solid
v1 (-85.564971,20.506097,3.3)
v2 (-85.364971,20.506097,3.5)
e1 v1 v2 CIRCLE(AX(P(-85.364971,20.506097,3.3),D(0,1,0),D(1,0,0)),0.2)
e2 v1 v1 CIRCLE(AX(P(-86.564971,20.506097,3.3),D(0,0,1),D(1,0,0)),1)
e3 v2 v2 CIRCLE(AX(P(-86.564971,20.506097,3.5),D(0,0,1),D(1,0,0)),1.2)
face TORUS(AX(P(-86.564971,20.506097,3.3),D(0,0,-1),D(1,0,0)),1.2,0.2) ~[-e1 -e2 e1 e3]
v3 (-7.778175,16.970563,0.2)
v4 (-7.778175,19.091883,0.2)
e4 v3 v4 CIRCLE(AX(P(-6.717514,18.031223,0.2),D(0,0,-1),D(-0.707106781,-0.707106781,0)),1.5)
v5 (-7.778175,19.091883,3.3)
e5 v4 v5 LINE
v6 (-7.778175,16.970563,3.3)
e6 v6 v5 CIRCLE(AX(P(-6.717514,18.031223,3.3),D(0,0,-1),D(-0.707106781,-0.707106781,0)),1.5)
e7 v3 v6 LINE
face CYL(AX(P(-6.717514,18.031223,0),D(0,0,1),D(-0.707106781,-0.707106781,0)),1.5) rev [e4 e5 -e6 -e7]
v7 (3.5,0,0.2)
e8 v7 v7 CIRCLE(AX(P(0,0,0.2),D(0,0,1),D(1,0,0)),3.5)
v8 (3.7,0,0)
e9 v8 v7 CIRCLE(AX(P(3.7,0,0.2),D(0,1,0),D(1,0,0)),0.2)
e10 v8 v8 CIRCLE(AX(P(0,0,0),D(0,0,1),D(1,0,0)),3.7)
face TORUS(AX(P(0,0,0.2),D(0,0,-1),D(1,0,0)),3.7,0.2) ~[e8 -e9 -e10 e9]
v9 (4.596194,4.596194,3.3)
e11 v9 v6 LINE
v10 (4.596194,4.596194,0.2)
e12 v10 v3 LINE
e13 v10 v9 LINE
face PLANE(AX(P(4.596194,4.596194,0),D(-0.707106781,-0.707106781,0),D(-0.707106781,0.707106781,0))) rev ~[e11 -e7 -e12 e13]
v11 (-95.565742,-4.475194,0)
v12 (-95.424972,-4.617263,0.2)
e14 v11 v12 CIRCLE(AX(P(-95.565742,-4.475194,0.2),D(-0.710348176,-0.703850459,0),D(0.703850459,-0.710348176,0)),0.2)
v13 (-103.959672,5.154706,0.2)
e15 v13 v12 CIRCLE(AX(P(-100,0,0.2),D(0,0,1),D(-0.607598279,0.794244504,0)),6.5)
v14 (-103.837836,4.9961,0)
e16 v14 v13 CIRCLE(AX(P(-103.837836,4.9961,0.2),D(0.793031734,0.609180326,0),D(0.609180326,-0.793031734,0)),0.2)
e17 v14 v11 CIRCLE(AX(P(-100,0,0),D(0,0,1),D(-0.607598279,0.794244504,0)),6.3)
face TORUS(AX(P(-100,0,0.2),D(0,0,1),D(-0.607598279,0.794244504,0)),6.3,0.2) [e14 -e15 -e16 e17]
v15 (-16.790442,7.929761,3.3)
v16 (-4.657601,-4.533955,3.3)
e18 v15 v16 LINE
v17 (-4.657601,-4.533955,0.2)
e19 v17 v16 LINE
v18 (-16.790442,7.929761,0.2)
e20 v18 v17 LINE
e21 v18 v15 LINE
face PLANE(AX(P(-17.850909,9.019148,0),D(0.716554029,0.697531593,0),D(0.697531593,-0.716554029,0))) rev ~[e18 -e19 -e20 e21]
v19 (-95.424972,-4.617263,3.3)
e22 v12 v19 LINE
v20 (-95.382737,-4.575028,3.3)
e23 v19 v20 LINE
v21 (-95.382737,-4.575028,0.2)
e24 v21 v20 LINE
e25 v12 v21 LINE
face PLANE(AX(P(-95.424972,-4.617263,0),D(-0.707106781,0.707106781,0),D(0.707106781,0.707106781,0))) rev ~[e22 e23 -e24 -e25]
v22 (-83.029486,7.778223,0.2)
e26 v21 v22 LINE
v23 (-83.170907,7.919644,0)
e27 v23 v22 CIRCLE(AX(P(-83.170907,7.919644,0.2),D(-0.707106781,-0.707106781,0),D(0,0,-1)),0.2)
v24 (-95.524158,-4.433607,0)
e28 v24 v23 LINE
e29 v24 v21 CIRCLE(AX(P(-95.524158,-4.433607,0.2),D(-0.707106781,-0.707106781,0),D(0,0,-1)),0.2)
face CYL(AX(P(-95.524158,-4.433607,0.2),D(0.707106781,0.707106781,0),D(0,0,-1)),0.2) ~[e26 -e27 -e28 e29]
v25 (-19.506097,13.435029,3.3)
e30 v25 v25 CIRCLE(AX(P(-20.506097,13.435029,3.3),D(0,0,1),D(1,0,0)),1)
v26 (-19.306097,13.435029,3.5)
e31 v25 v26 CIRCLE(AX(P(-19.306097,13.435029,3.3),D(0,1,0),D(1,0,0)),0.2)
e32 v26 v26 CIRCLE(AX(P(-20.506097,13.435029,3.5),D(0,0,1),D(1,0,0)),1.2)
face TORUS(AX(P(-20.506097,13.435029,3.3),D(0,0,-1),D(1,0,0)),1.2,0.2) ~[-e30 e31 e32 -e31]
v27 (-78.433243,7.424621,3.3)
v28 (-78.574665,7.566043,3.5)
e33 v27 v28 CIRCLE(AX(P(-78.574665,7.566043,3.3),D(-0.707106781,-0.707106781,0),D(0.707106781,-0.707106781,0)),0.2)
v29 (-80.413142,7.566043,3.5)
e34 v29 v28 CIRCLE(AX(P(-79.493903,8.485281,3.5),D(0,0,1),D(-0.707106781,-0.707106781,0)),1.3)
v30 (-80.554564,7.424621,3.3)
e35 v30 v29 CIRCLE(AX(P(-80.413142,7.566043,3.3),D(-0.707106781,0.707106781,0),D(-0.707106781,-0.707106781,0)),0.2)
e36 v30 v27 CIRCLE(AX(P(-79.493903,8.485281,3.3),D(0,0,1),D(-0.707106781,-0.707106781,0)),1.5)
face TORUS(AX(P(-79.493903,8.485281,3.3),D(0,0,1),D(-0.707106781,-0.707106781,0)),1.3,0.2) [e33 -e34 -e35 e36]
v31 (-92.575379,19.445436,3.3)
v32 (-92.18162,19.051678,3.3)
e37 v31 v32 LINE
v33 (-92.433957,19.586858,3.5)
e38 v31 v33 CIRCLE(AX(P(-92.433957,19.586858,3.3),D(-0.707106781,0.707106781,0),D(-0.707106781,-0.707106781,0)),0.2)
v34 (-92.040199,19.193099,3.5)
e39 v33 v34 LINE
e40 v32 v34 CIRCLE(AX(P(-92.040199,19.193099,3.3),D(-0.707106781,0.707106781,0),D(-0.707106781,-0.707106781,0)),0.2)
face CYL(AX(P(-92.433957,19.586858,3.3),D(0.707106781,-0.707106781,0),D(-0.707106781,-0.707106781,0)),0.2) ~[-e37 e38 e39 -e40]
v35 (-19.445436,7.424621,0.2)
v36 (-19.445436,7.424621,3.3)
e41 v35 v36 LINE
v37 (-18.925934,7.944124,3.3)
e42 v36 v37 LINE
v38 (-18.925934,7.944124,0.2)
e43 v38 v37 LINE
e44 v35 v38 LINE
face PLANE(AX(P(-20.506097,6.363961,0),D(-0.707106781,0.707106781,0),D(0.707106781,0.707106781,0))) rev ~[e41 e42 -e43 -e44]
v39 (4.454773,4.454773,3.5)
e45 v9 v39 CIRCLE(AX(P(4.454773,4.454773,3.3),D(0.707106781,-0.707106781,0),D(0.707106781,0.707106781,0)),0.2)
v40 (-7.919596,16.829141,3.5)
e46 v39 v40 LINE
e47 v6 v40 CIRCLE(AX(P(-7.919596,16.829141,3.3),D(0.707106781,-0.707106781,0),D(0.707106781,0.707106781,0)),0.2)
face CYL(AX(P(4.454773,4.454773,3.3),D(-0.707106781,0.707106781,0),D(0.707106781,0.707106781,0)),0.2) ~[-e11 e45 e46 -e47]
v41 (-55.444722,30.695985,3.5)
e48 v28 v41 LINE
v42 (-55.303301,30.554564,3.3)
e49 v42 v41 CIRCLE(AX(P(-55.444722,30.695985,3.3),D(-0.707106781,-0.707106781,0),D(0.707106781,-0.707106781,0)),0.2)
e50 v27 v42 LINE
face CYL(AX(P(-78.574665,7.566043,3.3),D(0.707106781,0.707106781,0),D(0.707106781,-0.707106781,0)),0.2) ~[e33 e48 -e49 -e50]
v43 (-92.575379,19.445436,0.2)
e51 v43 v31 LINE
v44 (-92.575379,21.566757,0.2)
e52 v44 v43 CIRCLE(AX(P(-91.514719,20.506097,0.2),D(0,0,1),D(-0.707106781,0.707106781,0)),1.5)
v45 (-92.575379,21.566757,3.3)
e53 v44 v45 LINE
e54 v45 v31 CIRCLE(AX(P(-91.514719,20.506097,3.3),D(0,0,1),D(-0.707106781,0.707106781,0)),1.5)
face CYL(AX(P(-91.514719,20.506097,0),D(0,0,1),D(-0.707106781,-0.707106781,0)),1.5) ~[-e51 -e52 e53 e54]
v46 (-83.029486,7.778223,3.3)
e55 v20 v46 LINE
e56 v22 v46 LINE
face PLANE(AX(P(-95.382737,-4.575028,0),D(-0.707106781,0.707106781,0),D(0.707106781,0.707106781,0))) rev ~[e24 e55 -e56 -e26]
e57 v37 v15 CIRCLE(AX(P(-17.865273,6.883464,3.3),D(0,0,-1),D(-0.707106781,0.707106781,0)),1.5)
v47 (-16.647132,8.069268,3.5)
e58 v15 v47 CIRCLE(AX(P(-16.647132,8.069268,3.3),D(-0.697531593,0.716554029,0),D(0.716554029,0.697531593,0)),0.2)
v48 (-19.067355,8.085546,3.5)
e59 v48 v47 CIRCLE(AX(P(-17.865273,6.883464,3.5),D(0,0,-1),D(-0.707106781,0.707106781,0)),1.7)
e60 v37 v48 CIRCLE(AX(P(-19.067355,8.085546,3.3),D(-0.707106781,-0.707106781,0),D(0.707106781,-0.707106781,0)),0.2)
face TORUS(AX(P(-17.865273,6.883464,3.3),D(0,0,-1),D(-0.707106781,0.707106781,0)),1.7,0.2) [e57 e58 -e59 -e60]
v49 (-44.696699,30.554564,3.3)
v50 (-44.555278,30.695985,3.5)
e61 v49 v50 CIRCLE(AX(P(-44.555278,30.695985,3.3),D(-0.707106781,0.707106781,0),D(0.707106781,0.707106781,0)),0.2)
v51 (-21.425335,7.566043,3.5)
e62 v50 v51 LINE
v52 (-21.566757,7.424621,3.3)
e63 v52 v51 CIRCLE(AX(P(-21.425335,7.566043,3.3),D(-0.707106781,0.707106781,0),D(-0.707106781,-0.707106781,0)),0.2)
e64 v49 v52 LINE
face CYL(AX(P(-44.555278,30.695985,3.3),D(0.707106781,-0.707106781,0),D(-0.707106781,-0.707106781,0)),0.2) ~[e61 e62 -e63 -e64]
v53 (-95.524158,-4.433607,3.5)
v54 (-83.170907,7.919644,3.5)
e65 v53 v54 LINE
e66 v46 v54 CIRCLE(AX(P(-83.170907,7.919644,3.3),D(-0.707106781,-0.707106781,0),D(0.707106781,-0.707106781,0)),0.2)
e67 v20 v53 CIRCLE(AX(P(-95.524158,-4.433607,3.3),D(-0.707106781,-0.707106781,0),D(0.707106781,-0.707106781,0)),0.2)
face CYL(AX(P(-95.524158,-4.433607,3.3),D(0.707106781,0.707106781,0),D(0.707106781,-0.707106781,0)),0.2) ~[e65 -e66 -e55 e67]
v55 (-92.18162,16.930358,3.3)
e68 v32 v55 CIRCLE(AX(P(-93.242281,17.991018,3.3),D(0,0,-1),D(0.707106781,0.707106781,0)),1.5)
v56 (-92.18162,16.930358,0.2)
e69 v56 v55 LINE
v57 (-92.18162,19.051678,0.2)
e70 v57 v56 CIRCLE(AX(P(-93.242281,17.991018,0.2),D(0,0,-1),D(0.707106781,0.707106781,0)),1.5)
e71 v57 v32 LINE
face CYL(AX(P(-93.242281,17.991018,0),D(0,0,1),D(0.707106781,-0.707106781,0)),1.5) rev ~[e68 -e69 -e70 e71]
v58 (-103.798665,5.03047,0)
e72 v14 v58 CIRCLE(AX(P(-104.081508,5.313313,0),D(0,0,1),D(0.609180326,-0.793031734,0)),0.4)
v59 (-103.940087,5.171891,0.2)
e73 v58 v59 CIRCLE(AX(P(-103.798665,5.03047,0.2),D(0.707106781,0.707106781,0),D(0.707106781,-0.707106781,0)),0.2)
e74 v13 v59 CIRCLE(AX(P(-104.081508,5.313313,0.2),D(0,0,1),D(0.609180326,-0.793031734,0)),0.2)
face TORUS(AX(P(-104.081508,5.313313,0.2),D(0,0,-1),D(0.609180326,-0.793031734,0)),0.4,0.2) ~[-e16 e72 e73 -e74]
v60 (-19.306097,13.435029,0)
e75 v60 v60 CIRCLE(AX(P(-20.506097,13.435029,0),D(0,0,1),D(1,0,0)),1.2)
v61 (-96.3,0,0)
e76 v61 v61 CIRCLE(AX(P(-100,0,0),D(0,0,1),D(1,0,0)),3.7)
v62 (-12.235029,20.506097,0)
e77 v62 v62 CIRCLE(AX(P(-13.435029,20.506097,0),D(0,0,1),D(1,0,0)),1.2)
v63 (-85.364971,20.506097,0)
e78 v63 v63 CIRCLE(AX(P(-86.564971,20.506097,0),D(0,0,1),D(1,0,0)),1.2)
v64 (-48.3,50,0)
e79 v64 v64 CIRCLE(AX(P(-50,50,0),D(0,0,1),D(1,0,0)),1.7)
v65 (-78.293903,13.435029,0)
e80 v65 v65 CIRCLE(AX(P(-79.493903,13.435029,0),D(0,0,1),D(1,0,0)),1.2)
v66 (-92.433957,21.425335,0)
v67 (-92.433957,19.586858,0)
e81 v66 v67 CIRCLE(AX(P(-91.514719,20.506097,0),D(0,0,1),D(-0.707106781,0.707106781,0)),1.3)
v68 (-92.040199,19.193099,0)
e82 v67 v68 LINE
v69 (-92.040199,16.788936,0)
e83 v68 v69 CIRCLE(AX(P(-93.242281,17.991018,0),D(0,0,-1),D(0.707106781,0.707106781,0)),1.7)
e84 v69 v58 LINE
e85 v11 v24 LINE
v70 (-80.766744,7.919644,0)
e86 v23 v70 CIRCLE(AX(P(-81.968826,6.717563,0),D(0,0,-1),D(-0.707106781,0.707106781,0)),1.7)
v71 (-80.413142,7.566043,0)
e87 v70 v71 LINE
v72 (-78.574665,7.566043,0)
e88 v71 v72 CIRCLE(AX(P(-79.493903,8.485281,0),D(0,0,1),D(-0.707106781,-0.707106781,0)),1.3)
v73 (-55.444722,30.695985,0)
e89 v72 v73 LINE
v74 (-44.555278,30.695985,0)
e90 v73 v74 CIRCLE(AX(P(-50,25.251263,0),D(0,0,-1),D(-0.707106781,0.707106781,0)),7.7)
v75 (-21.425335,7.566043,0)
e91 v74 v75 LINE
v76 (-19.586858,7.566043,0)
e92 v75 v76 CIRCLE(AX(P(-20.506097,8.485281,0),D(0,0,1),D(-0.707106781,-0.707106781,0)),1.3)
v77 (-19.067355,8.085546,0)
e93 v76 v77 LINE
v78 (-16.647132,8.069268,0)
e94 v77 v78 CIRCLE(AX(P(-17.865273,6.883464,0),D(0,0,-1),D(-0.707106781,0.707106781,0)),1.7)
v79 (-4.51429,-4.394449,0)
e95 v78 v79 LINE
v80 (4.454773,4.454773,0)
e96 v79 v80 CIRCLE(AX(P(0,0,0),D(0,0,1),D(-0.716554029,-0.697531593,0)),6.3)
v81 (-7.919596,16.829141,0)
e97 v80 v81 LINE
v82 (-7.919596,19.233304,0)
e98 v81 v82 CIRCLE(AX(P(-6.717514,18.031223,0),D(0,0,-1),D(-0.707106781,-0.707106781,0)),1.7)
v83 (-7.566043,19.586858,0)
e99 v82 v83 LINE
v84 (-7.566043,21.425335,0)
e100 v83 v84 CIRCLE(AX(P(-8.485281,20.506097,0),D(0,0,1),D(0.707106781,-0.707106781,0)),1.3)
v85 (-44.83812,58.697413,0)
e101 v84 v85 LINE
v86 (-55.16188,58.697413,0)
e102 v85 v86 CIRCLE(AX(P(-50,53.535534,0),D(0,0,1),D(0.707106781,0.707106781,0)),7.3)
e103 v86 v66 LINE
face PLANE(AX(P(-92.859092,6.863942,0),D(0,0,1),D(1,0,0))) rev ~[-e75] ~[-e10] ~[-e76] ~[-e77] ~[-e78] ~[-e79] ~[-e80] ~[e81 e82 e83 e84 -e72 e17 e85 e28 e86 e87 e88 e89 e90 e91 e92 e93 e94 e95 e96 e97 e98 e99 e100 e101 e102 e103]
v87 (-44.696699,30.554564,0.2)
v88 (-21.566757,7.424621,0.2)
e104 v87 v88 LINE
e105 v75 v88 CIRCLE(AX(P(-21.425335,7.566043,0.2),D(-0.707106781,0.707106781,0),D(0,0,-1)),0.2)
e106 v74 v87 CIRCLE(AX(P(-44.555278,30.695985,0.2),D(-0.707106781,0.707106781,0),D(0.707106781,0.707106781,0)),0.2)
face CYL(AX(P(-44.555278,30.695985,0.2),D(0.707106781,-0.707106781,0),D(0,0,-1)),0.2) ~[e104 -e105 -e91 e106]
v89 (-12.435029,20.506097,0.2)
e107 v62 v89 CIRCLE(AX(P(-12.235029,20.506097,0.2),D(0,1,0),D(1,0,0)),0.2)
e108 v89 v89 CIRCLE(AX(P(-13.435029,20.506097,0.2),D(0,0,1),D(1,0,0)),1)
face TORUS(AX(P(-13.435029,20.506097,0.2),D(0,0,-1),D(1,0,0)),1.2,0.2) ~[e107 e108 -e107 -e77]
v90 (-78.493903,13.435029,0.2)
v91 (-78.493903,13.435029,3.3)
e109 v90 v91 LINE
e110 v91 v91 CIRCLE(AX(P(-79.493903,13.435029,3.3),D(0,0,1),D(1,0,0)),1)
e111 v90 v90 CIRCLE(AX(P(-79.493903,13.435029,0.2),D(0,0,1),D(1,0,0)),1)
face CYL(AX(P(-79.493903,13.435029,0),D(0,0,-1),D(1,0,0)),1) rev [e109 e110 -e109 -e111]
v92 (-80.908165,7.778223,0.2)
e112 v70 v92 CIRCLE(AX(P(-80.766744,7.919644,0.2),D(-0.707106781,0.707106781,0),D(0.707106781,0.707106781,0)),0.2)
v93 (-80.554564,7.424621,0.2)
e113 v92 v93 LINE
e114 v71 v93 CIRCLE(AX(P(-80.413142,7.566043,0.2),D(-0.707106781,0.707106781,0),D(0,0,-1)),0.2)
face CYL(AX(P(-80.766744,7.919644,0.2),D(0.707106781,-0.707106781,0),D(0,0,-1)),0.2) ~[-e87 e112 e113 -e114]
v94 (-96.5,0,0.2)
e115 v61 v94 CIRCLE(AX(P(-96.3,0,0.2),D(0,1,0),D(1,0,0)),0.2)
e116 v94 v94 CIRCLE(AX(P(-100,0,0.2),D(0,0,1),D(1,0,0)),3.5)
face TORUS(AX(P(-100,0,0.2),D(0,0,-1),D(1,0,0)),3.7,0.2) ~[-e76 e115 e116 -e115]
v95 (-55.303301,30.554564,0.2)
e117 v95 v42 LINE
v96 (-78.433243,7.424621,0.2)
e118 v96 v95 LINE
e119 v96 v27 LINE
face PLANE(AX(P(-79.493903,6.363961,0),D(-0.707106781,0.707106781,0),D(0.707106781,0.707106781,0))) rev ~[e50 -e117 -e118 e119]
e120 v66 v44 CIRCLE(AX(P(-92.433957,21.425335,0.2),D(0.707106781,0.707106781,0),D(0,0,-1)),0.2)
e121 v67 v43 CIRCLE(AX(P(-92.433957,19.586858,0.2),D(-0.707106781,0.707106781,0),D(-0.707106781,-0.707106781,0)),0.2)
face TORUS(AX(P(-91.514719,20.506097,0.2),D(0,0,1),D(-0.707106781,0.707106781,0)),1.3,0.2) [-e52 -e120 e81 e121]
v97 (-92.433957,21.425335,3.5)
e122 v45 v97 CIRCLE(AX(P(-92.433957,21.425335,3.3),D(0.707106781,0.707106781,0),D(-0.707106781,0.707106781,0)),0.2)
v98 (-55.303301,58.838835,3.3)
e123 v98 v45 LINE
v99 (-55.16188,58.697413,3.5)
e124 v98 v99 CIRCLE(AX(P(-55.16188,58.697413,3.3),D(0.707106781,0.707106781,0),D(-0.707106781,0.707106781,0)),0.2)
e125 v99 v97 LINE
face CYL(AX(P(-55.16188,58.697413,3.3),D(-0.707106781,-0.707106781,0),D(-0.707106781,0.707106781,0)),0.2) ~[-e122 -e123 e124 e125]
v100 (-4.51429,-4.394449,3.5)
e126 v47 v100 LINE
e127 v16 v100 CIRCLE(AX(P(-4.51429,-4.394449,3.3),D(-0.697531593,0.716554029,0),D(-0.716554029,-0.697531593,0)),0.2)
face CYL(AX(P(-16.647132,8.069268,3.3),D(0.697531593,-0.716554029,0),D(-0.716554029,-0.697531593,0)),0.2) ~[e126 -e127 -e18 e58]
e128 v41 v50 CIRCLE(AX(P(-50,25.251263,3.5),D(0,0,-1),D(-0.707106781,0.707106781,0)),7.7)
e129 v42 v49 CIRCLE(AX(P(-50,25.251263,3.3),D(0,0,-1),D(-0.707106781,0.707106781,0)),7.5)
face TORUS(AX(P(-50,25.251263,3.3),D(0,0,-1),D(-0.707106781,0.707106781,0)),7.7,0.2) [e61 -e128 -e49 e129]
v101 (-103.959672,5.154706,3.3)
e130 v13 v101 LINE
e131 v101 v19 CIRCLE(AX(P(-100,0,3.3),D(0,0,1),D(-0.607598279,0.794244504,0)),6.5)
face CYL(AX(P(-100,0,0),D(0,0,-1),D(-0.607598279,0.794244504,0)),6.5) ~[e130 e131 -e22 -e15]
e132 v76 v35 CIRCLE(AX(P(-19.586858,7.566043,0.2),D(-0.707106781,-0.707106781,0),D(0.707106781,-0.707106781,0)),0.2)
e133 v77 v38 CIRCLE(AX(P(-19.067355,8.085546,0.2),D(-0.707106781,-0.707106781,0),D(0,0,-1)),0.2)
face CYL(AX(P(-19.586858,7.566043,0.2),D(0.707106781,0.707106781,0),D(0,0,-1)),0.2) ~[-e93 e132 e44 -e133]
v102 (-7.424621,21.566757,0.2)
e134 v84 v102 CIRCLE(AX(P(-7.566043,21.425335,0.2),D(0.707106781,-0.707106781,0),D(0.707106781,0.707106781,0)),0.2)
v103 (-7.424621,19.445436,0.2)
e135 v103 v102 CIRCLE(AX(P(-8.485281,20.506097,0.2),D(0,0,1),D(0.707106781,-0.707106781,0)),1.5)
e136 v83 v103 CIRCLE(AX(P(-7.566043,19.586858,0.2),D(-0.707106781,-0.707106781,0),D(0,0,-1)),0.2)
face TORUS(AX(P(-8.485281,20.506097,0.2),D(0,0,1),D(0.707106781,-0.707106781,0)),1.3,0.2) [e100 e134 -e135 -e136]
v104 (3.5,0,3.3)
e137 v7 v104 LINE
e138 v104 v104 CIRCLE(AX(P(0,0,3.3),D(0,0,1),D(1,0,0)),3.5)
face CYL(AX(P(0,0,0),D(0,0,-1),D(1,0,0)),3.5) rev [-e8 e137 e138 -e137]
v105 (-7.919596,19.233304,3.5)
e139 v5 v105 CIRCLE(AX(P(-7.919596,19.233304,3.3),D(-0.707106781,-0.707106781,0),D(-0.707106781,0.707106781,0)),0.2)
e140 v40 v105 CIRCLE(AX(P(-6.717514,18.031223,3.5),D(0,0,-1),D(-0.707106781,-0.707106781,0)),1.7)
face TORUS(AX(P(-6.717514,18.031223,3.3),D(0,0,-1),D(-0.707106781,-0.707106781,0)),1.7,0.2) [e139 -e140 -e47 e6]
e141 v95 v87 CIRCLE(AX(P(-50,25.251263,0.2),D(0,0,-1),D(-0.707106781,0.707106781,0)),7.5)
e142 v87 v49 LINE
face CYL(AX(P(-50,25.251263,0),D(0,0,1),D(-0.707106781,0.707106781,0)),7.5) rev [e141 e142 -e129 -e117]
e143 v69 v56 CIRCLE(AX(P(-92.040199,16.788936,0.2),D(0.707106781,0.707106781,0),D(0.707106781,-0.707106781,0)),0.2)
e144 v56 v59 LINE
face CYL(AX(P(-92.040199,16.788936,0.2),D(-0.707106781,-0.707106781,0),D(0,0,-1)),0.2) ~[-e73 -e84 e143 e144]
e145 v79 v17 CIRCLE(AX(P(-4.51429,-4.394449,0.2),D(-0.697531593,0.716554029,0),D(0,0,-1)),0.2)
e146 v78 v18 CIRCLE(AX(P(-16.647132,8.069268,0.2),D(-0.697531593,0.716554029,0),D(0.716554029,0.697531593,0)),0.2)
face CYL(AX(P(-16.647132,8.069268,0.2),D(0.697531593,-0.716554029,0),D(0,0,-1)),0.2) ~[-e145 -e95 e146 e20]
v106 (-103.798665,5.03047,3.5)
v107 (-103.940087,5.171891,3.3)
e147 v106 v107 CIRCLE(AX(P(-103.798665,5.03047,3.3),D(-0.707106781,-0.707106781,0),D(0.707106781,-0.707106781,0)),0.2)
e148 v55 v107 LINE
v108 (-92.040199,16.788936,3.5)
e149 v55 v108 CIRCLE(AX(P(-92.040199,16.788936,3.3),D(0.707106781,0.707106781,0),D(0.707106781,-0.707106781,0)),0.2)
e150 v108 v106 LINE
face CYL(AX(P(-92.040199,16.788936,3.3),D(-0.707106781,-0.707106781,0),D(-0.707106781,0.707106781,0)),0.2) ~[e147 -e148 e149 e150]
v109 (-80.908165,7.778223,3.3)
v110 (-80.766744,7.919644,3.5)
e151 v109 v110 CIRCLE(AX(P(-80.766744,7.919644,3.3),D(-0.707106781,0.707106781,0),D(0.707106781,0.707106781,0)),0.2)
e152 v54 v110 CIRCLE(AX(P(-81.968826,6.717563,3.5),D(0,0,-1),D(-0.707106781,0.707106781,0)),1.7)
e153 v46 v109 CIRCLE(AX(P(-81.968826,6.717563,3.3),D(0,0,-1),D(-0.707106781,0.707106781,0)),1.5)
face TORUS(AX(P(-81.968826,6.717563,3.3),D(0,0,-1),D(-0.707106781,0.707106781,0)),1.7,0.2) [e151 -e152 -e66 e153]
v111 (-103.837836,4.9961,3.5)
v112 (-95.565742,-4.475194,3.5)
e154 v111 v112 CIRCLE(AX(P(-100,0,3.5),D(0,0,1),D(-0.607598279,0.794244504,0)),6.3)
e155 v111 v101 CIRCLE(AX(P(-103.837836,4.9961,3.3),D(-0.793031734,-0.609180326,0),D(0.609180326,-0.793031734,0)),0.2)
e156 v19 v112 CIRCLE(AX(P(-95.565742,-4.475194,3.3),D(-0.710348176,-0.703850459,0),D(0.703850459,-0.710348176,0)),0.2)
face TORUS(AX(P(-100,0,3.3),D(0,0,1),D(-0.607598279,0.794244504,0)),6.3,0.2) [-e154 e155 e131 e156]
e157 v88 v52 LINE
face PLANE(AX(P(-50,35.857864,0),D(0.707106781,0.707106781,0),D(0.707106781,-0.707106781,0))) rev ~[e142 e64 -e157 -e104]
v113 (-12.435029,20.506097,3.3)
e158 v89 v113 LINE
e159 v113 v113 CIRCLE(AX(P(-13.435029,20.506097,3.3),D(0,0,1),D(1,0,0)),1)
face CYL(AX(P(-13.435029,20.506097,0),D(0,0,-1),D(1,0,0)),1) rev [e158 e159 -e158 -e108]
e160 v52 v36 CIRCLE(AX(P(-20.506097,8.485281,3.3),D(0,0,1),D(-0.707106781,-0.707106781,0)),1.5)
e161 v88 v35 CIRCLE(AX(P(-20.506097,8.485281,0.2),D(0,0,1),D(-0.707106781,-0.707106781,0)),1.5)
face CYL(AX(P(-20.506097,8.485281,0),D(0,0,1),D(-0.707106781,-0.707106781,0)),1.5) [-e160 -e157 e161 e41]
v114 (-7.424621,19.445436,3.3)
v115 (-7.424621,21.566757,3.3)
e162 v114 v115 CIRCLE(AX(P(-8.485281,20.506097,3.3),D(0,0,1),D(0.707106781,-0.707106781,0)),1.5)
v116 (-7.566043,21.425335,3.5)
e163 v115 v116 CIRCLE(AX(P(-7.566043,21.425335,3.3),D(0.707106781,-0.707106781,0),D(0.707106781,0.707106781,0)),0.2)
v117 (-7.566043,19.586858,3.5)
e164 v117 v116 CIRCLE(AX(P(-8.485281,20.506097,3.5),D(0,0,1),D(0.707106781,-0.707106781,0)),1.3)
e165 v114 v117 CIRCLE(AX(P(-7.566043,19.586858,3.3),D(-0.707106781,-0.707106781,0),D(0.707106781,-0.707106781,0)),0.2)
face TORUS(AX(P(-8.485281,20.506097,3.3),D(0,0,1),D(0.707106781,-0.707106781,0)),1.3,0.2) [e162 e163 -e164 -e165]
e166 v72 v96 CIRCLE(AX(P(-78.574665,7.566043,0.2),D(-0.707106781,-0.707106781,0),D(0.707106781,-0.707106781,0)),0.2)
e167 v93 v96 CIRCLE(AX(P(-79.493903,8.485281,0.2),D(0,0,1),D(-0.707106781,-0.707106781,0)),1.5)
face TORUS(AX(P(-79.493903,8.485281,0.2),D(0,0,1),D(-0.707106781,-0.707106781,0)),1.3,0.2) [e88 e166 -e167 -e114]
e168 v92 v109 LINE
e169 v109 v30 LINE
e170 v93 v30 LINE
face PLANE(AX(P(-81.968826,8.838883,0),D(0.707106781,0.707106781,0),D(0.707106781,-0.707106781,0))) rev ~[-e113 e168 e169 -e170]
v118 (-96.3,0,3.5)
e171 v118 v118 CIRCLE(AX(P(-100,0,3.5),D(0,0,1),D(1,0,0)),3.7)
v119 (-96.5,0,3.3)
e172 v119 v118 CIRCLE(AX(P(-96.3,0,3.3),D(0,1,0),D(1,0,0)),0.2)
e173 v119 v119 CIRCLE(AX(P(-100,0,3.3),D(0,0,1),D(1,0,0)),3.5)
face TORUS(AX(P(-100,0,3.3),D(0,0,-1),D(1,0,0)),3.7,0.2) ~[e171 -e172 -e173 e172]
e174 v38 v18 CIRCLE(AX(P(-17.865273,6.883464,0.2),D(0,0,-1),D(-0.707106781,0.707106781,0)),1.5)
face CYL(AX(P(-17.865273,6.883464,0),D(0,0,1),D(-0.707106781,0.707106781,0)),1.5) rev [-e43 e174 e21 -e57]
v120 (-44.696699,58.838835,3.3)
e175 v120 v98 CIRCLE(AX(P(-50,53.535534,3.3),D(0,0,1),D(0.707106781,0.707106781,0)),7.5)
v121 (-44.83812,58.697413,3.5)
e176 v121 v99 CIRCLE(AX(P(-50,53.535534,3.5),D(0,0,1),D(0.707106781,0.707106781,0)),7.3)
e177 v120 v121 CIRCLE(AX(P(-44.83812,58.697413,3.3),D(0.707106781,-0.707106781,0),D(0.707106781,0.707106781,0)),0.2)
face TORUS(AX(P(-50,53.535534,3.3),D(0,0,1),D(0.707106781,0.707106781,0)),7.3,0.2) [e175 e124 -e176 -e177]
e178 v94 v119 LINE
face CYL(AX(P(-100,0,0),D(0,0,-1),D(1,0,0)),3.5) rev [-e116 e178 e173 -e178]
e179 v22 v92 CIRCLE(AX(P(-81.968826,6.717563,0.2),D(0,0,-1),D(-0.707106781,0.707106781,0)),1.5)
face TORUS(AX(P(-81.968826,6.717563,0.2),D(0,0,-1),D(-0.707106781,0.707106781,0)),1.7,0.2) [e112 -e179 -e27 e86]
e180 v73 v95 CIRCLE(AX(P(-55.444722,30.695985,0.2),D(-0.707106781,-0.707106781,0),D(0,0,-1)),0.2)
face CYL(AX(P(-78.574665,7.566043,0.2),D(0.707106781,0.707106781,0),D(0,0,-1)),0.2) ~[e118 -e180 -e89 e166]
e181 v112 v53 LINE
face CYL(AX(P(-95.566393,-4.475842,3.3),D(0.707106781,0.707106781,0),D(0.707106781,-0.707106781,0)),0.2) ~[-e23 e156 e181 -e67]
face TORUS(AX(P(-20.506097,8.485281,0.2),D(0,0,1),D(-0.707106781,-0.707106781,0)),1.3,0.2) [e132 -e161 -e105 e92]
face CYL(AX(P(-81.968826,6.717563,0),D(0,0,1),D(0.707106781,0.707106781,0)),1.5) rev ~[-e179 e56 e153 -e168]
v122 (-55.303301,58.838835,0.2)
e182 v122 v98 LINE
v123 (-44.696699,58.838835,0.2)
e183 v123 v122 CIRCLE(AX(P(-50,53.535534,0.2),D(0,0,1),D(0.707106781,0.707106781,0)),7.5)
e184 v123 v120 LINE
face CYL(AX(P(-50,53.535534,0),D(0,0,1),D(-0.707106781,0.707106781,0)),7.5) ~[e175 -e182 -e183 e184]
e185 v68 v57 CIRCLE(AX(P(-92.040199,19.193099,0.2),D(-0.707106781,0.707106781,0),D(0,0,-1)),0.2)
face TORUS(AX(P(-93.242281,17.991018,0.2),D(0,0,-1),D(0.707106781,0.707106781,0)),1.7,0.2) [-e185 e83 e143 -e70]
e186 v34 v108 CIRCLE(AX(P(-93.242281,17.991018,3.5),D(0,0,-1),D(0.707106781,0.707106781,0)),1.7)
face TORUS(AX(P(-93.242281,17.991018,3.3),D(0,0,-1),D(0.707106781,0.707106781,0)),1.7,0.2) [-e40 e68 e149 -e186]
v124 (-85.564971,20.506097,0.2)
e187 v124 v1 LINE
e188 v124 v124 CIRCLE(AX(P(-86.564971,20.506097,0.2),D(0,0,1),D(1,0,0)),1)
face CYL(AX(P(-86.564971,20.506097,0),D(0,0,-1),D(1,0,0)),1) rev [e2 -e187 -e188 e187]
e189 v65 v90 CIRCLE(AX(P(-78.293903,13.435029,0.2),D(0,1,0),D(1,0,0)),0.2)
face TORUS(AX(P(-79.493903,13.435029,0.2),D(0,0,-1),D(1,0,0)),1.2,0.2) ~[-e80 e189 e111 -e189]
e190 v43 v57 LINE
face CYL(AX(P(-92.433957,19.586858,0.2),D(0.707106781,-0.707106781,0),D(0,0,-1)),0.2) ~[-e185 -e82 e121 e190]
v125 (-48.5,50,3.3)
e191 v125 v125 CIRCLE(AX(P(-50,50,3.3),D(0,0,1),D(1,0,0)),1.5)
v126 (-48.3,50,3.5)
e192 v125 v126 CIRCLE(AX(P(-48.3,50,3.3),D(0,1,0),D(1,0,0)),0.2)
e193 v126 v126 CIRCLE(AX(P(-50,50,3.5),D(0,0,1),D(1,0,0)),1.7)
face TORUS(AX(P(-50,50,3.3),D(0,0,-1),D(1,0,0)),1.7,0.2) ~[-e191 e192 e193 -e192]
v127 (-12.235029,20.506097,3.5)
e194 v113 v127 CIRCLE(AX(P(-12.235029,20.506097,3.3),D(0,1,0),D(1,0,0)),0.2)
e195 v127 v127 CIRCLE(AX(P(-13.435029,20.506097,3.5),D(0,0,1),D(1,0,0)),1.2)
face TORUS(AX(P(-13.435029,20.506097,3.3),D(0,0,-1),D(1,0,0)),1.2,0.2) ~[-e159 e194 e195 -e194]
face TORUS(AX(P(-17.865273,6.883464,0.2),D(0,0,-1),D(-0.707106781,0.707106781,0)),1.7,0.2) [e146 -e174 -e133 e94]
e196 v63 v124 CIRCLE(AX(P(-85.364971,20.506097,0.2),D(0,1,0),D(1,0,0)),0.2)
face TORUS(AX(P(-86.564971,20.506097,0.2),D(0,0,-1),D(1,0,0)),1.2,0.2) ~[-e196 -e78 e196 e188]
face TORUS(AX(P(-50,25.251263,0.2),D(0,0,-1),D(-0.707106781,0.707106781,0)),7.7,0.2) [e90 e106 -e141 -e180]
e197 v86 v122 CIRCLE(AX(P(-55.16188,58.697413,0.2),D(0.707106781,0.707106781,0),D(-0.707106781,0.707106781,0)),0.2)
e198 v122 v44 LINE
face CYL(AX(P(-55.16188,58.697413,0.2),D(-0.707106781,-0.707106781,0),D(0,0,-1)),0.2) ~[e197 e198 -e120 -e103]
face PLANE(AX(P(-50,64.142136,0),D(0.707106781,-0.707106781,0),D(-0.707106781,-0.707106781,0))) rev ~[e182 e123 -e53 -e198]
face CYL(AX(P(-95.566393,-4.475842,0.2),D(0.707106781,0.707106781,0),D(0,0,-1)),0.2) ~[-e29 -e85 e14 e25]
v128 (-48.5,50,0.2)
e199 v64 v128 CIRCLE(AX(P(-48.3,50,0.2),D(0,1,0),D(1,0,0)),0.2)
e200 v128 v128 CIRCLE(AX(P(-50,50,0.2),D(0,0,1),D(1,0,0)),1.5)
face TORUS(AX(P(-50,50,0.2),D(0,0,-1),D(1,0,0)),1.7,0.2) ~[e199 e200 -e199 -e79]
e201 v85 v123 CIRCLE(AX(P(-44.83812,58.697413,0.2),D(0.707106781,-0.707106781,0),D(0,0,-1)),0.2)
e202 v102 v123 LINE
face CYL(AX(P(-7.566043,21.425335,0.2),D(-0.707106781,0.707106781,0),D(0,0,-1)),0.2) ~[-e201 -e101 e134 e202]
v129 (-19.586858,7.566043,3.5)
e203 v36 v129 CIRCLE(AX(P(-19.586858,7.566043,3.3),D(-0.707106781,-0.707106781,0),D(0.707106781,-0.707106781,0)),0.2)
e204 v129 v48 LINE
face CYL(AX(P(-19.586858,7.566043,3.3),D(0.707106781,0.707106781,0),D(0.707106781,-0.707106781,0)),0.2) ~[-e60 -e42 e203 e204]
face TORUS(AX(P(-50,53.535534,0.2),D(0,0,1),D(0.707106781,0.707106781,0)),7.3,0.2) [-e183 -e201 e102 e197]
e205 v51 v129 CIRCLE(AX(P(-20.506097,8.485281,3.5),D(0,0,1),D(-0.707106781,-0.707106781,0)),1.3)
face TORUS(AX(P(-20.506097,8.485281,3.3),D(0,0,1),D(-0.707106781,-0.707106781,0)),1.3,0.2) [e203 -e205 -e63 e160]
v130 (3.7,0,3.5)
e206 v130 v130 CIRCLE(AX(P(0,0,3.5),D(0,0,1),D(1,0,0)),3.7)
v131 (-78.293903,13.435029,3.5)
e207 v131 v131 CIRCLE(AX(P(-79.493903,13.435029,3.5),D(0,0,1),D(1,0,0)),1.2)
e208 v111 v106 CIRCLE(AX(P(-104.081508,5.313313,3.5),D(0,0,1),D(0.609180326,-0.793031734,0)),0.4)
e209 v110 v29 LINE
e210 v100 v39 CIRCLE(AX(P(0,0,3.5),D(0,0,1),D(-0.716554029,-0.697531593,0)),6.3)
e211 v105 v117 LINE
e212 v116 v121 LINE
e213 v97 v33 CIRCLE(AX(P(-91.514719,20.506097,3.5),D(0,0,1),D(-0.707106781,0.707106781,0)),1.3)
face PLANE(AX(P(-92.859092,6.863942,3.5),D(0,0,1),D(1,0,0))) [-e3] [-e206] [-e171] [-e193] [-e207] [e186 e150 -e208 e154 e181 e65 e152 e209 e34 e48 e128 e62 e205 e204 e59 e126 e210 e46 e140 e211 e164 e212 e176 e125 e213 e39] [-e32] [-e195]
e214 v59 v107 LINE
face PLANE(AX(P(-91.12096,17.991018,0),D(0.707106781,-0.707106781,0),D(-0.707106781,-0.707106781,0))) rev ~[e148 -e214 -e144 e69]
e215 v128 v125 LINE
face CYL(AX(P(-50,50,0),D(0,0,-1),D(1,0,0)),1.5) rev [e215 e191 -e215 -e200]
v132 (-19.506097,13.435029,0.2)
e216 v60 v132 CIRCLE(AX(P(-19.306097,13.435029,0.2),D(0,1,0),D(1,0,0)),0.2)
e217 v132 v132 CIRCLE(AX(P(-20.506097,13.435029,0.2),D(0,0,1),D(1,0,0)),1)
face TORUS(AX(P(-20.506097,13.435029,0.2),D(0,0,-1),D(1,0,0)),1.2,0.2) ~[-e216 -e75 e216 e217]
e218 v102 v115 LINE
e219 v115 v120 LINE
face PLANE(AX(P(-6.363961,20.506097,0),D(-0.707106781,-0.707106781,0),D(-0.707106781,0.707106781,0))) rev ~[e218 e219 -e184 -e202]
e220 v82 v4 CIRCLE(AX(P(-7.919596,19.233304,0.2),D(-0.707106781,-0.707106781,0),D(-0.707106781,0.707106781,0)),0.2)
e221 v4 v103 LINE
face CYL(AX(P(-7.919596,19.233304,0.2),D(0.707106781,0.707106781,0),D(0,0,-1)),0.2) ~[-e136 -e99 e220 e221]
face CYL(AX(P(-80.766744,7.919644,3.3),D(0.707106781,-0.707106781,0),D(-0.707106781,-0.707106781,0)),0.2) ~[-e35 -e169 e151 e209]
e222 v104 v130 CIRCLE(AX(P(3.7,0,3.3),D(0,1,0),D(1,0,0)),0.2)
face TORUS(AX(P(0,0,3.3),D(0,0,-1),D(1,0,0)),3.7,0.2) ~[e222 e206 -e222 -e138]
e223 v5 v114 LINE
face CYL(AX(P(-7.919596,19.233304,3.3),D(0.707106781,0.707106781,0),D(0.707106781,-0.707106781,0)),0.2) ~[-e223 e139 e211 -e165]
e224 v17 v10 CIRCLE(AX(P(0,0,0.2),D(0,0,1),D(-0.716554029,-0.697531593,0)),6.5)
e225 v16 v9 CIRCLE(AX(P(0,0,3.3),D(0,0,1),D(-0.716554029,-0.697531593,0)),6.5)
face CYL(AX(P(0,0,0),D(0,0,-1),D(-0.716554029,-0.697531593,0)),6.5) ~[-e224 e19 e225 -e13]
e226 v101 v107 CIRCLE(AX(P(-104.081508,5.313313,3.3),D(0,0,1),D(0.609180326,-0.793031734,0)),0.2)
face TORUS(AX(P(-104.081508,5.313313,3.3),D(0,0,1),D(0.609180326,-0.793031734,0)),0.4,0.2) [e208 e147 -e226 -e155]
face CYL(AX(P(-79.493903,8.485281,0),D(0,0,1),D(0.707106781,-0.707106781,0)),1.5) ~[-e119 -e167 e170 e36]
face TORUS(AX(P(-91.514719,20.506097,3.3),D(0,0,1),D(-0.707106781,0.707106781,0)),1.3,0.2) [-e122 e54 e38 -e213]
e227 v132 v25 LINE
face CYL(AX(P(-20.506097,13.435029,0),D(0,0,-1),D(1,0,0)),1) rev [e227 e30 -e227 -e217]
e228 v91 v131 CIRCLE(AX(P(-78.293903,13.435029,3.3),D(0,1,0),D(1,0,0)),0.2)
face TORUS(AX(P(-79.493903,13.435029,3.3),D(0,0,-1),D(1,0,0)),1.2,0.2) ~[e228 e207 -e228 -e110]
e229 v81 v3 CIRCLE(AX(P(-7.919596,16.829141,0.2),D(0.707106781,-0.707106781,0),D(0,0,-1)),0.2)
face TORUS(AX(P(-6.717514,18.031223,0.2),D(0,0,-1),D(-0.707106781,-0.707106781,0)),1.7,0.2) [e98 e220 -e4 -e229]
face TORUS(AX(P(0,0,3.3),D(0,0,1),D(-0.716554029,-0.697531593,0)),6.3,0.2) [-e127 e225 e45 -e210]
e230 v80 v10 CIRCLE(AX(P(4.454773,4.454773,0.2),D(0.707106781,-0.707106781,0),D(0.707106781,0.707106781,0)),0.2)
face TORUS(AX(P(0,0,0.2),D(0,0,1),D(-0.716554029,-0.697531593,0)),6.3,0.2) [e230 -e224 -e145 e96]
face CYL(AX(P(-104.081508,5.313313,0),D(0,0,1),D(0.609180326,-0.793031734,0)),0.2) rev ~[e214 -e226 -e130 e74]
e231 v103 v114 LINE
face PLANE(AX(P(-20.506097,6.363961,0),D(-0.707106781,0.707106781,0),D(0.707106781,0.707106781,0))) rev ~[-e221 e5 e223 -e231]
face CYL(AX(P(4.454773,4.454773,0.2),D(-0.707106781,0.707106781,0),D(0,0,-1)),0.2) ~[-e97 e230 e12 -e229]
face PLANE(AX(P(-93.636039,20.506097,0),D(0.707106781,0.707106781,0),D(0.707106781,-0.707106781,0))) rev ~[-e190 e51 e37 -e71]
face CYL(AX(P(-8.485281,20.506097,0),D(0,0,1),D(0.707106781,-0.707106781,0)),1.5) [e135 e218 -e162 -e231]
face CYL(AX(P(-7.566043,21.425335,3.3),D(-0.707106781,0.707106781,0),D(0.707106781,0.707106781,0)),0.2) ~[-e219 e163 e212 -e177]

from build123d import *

# Parameters (mm, degrees)
SKETCH5_R           = 1
SKETCH5_R_2         = 1.5
SKETCH5_R_3         = 3.5
BOSS_EXTRUDE1_DEPTH = 3.5
FILLET1_R           = 7.5
FILLET2_R           = 1.5
FILLET3_R           = 0.2


with BuildPart() as part:
    # Sketch5 → Boss-Extrude1 (new body)
    # profile 1 of 4: a face of its own
    with BuildSketch(Plane.XY):
        with BuildLine():
            Line((-95.382736856, -4.575027984), (-81.968825593, 8.838883278))
            Line((-81.968825593, 8.838883278), (-91.1209602, 17.991017886))
            Line((-91.1209602, 17.991017886), (-103.949388812, 5.162589274))
            ThreePointArc((-103.949388812, 5.162589274), (-97.120853189, 5.827564984), (-93.5, 0))
            ThreePointArc((-93.5, 0), (-93.989084494, -2.473639986), (-95.382736856, -4.575027984))
        make_face()
    # profile 2 of 4: a face of its own
    with BuildSketch(Plane.XY):
        Polygon((-91.1209602, 17.991017886), (-81.968825593, 8.838883278), (-79.493903346, 6.363961031), (-50, 35.857864376), (-20.506096654, 6.363961031), (-17.850909276, 9.019148409), (-8.838834765, 18.03122292), (-6.363961031, 20.506096654), (-50, 64.142135624), (-93.636038969, 20.506096654), align=None)
        with Locations((-79.493903346, 13.435028843)):
            Circle(SKETCH5_R, mode=Mode.SUBTRACT)
        with Locations((-86.564971157, 20.506096654)):
            Circle(SKETCH5_R, mode=Mode.SUBTRACT)
        with Locations((-20.506096654, 13.435028843)):
            Circle(SKETCH5_R, mode=Mode.SUBTRACT)
        with Locations((-13.435028843, 20.506096654)):
            Circle(SKETCH5_R, mode=Mode.SUBTRACT)
        with Locations((-50, 50)):
            Circle(SKETCH5_R_2, mode=Mode.SUBTRACT)
    # profile 3 of 4: a face of its own
    with BuildSketch(Plane.XY):
        with BuildLine():
            Line((-95.424972016, -4.617263144), (-95.382736856, -4.575027984))
            ThreePointArc((-95.382736856, -4.575027984), (-93.989084494, -2.473639986), (-93.5, 0))
            ThreePointArc((-93.5, 0), (-97.120853189, 5.827564984), (-103.949388812, 5.162589274))
            ThreePointArc((-103.949388812, 5.162589274), (-104.899921879, -4.270920928), (-95.424972016, -4.617263144))
        make_face()
        with Locations((-100, 0)):
            Circle(SKETCH5_R_3, mode=Mode.SUBTRACT)
    # profile 4 of 4: a face of its own
    with BuildSketch(Plane.XY):
        with BuildLine():
            Line((-8.838834765, 18.03122292), (-17.850909276, 9.019148409))
            Line((-17.850909276, 9.019148409), (-4.657601188, -4.533955357))
            ThreePointArc((-4.657601188, -4.533955357), (4.565177968, -4.627002282), (4.596194078, 4.596194078))
            Line((4.596194078, 4.596194078), (-8.838834765, 18.03122292))
        make_face()
        Circle(SKETCH5_R_3, mode=Mode.SUBTRACT)
    extrude(amount=BOSS_EXTRUDE1_DEPTH)

    # Fillet1
    fillet1_edges = [part.edges().sort_by_distance(p)[0] for p in [
        (-50, 35.857864376, 1.75),
        (-50, 64.142135624, 1.75),
    ]]
    fillet(fillet1_edges, radius=FILLET1_R)

    # Fillet2
    fillet2_edges = [part.edges().sort_by_distance(p)[0] for p in [
        (-17.850909276, 9.019148409, 1.75),
        (-20.506096654, 6.363961031, 1.75),
        (-79.493903346, 6.363961031, 1.75),
        (-81.968825593, 8.838883278, 1.75),
        (-91.1209602, 17.991017886, 1.75),
        (-93.636038969, 20.506096654, 1.75),
        (-6.363961031, 20.506096654, 1.75),
        (-8.838834765, 18.03122292, 1.75),
    ]]
    fillet(fillet2_edges, radius=FILLET2_R)

    # Fillet3
    fillet3_edges = [part.edges().sort_by_distance(p)[0] for p in [
        (-17.855184959, 8.383430059, 0),
        (-17.855184959, 8.383430059, 3.5),
        (-8.217514421, 18.03122292, 0),
        (-8.217514421, 18.03122292, 3.5),
        (-91.742280544, 17.991017886, 0),
        (-91.742280544, 17.991017886, 3.5),
        (-81.968825593, 8.217562935, 0),
        (-81.968825593, 8.217562935, 3.5),
        (-51.5, 50, 3.5),
        (-3.5, 0, 3.5),
        (-103.5, 0, 3.5),
        (-104.899921879, -4.270920928, 0),
        (-80.493903346, 13.435028843, 3.5),
        (4.565177968, -4.627002282, 0),
        (-21.506096654, 13.435028843, 0),
        (-14.435028843, 20.506096654, 0),
        (-87.564971157, 20.506096654, 0),
        (-80.493903346, 13.435028843, 0),
        (-87.564971157, 20.506096654, 3.5),
        (-103.5, 0, 0),
        (-3.5, 0, 0),
        (-51.5, 50, 0),
        (-14.435028843, 20.506096654, 3.5),
        (-95.424972016, -4.617263144, 1.75),
        (-103.949388812, 5.162589274, 1.75),
        (-21.506096654, 13.435028843, 3.5),
        (4.565177968, -4.627002282, 3.5),
        (-33.131727984, 18.98959236, 0),
        (-33.131727984, 18.98959236, 3.5),
        (-73.939339828, 40.202795796, 0),
        (-73.939339828, 40.202795796, 3.5),
        (-50, 61.035533906, 0),
        (-50, 61.035533906, 3.5),
        (-50, 32.751262658, 0),
        (-50, 32.751262658, 3.5),
        (-19.185685006, 7.684372679, 0),
        (-19.185685006, 7.684372679, 3.5),
        (-26.060660172, 40.202795796, 0),
        (-7.601397898, 19.268659787, 0),
        (-1.590990258, 10.783378413, 0),
        (-10.724021751, 1.697903009, 0),
        (-66.868272016, 18.98959236, 0),
        (-80.731364469, 7.601422154, 0),
        (-89.22722889, 1.580479981, 0),
        (-98.065504592, 11.046473494, 0),
        (-92.378499585, 19.24855727, 0),
        (-79.493903346, 6.985281374, 0),
        (-93.014718626, 20.506096654, 0),
        (-6.985281374, 20.506096654, 0),
        (-20.506096654, 6.985281374, 0),
        (-104.899921879, -4.270920928, 3.5),
        (-26.060660172, 40.202795796, 3.5),
        (-92.378499585, 19.24855727, 3.5),
        (-98.065504592, 11.046473494, 3.5),
        (-89.22722889, 1.580479981, 3.5),
        (-80.731364469, 7.601422154, 3.5),
        (-66.868272016, 18.98959236, 3.5),
        (-10.724021751, 1.697903009, 3.5),
        (-1.590990258, 10.783378413, 3.5),
        (-7.601397898, 19.268659787, 3.5),
        (-79.493903346, 6.985281374, 3.5),
        (-93.014718626, 20.506096654, 3.5),
        (-6.985281374, 20.506096654, 3.5),
        (-20.506096654, 6.985281374, 3.5),
    ]]
    fillet(fillet3_edges, radius=FILLET3_R)


solid = part.part
